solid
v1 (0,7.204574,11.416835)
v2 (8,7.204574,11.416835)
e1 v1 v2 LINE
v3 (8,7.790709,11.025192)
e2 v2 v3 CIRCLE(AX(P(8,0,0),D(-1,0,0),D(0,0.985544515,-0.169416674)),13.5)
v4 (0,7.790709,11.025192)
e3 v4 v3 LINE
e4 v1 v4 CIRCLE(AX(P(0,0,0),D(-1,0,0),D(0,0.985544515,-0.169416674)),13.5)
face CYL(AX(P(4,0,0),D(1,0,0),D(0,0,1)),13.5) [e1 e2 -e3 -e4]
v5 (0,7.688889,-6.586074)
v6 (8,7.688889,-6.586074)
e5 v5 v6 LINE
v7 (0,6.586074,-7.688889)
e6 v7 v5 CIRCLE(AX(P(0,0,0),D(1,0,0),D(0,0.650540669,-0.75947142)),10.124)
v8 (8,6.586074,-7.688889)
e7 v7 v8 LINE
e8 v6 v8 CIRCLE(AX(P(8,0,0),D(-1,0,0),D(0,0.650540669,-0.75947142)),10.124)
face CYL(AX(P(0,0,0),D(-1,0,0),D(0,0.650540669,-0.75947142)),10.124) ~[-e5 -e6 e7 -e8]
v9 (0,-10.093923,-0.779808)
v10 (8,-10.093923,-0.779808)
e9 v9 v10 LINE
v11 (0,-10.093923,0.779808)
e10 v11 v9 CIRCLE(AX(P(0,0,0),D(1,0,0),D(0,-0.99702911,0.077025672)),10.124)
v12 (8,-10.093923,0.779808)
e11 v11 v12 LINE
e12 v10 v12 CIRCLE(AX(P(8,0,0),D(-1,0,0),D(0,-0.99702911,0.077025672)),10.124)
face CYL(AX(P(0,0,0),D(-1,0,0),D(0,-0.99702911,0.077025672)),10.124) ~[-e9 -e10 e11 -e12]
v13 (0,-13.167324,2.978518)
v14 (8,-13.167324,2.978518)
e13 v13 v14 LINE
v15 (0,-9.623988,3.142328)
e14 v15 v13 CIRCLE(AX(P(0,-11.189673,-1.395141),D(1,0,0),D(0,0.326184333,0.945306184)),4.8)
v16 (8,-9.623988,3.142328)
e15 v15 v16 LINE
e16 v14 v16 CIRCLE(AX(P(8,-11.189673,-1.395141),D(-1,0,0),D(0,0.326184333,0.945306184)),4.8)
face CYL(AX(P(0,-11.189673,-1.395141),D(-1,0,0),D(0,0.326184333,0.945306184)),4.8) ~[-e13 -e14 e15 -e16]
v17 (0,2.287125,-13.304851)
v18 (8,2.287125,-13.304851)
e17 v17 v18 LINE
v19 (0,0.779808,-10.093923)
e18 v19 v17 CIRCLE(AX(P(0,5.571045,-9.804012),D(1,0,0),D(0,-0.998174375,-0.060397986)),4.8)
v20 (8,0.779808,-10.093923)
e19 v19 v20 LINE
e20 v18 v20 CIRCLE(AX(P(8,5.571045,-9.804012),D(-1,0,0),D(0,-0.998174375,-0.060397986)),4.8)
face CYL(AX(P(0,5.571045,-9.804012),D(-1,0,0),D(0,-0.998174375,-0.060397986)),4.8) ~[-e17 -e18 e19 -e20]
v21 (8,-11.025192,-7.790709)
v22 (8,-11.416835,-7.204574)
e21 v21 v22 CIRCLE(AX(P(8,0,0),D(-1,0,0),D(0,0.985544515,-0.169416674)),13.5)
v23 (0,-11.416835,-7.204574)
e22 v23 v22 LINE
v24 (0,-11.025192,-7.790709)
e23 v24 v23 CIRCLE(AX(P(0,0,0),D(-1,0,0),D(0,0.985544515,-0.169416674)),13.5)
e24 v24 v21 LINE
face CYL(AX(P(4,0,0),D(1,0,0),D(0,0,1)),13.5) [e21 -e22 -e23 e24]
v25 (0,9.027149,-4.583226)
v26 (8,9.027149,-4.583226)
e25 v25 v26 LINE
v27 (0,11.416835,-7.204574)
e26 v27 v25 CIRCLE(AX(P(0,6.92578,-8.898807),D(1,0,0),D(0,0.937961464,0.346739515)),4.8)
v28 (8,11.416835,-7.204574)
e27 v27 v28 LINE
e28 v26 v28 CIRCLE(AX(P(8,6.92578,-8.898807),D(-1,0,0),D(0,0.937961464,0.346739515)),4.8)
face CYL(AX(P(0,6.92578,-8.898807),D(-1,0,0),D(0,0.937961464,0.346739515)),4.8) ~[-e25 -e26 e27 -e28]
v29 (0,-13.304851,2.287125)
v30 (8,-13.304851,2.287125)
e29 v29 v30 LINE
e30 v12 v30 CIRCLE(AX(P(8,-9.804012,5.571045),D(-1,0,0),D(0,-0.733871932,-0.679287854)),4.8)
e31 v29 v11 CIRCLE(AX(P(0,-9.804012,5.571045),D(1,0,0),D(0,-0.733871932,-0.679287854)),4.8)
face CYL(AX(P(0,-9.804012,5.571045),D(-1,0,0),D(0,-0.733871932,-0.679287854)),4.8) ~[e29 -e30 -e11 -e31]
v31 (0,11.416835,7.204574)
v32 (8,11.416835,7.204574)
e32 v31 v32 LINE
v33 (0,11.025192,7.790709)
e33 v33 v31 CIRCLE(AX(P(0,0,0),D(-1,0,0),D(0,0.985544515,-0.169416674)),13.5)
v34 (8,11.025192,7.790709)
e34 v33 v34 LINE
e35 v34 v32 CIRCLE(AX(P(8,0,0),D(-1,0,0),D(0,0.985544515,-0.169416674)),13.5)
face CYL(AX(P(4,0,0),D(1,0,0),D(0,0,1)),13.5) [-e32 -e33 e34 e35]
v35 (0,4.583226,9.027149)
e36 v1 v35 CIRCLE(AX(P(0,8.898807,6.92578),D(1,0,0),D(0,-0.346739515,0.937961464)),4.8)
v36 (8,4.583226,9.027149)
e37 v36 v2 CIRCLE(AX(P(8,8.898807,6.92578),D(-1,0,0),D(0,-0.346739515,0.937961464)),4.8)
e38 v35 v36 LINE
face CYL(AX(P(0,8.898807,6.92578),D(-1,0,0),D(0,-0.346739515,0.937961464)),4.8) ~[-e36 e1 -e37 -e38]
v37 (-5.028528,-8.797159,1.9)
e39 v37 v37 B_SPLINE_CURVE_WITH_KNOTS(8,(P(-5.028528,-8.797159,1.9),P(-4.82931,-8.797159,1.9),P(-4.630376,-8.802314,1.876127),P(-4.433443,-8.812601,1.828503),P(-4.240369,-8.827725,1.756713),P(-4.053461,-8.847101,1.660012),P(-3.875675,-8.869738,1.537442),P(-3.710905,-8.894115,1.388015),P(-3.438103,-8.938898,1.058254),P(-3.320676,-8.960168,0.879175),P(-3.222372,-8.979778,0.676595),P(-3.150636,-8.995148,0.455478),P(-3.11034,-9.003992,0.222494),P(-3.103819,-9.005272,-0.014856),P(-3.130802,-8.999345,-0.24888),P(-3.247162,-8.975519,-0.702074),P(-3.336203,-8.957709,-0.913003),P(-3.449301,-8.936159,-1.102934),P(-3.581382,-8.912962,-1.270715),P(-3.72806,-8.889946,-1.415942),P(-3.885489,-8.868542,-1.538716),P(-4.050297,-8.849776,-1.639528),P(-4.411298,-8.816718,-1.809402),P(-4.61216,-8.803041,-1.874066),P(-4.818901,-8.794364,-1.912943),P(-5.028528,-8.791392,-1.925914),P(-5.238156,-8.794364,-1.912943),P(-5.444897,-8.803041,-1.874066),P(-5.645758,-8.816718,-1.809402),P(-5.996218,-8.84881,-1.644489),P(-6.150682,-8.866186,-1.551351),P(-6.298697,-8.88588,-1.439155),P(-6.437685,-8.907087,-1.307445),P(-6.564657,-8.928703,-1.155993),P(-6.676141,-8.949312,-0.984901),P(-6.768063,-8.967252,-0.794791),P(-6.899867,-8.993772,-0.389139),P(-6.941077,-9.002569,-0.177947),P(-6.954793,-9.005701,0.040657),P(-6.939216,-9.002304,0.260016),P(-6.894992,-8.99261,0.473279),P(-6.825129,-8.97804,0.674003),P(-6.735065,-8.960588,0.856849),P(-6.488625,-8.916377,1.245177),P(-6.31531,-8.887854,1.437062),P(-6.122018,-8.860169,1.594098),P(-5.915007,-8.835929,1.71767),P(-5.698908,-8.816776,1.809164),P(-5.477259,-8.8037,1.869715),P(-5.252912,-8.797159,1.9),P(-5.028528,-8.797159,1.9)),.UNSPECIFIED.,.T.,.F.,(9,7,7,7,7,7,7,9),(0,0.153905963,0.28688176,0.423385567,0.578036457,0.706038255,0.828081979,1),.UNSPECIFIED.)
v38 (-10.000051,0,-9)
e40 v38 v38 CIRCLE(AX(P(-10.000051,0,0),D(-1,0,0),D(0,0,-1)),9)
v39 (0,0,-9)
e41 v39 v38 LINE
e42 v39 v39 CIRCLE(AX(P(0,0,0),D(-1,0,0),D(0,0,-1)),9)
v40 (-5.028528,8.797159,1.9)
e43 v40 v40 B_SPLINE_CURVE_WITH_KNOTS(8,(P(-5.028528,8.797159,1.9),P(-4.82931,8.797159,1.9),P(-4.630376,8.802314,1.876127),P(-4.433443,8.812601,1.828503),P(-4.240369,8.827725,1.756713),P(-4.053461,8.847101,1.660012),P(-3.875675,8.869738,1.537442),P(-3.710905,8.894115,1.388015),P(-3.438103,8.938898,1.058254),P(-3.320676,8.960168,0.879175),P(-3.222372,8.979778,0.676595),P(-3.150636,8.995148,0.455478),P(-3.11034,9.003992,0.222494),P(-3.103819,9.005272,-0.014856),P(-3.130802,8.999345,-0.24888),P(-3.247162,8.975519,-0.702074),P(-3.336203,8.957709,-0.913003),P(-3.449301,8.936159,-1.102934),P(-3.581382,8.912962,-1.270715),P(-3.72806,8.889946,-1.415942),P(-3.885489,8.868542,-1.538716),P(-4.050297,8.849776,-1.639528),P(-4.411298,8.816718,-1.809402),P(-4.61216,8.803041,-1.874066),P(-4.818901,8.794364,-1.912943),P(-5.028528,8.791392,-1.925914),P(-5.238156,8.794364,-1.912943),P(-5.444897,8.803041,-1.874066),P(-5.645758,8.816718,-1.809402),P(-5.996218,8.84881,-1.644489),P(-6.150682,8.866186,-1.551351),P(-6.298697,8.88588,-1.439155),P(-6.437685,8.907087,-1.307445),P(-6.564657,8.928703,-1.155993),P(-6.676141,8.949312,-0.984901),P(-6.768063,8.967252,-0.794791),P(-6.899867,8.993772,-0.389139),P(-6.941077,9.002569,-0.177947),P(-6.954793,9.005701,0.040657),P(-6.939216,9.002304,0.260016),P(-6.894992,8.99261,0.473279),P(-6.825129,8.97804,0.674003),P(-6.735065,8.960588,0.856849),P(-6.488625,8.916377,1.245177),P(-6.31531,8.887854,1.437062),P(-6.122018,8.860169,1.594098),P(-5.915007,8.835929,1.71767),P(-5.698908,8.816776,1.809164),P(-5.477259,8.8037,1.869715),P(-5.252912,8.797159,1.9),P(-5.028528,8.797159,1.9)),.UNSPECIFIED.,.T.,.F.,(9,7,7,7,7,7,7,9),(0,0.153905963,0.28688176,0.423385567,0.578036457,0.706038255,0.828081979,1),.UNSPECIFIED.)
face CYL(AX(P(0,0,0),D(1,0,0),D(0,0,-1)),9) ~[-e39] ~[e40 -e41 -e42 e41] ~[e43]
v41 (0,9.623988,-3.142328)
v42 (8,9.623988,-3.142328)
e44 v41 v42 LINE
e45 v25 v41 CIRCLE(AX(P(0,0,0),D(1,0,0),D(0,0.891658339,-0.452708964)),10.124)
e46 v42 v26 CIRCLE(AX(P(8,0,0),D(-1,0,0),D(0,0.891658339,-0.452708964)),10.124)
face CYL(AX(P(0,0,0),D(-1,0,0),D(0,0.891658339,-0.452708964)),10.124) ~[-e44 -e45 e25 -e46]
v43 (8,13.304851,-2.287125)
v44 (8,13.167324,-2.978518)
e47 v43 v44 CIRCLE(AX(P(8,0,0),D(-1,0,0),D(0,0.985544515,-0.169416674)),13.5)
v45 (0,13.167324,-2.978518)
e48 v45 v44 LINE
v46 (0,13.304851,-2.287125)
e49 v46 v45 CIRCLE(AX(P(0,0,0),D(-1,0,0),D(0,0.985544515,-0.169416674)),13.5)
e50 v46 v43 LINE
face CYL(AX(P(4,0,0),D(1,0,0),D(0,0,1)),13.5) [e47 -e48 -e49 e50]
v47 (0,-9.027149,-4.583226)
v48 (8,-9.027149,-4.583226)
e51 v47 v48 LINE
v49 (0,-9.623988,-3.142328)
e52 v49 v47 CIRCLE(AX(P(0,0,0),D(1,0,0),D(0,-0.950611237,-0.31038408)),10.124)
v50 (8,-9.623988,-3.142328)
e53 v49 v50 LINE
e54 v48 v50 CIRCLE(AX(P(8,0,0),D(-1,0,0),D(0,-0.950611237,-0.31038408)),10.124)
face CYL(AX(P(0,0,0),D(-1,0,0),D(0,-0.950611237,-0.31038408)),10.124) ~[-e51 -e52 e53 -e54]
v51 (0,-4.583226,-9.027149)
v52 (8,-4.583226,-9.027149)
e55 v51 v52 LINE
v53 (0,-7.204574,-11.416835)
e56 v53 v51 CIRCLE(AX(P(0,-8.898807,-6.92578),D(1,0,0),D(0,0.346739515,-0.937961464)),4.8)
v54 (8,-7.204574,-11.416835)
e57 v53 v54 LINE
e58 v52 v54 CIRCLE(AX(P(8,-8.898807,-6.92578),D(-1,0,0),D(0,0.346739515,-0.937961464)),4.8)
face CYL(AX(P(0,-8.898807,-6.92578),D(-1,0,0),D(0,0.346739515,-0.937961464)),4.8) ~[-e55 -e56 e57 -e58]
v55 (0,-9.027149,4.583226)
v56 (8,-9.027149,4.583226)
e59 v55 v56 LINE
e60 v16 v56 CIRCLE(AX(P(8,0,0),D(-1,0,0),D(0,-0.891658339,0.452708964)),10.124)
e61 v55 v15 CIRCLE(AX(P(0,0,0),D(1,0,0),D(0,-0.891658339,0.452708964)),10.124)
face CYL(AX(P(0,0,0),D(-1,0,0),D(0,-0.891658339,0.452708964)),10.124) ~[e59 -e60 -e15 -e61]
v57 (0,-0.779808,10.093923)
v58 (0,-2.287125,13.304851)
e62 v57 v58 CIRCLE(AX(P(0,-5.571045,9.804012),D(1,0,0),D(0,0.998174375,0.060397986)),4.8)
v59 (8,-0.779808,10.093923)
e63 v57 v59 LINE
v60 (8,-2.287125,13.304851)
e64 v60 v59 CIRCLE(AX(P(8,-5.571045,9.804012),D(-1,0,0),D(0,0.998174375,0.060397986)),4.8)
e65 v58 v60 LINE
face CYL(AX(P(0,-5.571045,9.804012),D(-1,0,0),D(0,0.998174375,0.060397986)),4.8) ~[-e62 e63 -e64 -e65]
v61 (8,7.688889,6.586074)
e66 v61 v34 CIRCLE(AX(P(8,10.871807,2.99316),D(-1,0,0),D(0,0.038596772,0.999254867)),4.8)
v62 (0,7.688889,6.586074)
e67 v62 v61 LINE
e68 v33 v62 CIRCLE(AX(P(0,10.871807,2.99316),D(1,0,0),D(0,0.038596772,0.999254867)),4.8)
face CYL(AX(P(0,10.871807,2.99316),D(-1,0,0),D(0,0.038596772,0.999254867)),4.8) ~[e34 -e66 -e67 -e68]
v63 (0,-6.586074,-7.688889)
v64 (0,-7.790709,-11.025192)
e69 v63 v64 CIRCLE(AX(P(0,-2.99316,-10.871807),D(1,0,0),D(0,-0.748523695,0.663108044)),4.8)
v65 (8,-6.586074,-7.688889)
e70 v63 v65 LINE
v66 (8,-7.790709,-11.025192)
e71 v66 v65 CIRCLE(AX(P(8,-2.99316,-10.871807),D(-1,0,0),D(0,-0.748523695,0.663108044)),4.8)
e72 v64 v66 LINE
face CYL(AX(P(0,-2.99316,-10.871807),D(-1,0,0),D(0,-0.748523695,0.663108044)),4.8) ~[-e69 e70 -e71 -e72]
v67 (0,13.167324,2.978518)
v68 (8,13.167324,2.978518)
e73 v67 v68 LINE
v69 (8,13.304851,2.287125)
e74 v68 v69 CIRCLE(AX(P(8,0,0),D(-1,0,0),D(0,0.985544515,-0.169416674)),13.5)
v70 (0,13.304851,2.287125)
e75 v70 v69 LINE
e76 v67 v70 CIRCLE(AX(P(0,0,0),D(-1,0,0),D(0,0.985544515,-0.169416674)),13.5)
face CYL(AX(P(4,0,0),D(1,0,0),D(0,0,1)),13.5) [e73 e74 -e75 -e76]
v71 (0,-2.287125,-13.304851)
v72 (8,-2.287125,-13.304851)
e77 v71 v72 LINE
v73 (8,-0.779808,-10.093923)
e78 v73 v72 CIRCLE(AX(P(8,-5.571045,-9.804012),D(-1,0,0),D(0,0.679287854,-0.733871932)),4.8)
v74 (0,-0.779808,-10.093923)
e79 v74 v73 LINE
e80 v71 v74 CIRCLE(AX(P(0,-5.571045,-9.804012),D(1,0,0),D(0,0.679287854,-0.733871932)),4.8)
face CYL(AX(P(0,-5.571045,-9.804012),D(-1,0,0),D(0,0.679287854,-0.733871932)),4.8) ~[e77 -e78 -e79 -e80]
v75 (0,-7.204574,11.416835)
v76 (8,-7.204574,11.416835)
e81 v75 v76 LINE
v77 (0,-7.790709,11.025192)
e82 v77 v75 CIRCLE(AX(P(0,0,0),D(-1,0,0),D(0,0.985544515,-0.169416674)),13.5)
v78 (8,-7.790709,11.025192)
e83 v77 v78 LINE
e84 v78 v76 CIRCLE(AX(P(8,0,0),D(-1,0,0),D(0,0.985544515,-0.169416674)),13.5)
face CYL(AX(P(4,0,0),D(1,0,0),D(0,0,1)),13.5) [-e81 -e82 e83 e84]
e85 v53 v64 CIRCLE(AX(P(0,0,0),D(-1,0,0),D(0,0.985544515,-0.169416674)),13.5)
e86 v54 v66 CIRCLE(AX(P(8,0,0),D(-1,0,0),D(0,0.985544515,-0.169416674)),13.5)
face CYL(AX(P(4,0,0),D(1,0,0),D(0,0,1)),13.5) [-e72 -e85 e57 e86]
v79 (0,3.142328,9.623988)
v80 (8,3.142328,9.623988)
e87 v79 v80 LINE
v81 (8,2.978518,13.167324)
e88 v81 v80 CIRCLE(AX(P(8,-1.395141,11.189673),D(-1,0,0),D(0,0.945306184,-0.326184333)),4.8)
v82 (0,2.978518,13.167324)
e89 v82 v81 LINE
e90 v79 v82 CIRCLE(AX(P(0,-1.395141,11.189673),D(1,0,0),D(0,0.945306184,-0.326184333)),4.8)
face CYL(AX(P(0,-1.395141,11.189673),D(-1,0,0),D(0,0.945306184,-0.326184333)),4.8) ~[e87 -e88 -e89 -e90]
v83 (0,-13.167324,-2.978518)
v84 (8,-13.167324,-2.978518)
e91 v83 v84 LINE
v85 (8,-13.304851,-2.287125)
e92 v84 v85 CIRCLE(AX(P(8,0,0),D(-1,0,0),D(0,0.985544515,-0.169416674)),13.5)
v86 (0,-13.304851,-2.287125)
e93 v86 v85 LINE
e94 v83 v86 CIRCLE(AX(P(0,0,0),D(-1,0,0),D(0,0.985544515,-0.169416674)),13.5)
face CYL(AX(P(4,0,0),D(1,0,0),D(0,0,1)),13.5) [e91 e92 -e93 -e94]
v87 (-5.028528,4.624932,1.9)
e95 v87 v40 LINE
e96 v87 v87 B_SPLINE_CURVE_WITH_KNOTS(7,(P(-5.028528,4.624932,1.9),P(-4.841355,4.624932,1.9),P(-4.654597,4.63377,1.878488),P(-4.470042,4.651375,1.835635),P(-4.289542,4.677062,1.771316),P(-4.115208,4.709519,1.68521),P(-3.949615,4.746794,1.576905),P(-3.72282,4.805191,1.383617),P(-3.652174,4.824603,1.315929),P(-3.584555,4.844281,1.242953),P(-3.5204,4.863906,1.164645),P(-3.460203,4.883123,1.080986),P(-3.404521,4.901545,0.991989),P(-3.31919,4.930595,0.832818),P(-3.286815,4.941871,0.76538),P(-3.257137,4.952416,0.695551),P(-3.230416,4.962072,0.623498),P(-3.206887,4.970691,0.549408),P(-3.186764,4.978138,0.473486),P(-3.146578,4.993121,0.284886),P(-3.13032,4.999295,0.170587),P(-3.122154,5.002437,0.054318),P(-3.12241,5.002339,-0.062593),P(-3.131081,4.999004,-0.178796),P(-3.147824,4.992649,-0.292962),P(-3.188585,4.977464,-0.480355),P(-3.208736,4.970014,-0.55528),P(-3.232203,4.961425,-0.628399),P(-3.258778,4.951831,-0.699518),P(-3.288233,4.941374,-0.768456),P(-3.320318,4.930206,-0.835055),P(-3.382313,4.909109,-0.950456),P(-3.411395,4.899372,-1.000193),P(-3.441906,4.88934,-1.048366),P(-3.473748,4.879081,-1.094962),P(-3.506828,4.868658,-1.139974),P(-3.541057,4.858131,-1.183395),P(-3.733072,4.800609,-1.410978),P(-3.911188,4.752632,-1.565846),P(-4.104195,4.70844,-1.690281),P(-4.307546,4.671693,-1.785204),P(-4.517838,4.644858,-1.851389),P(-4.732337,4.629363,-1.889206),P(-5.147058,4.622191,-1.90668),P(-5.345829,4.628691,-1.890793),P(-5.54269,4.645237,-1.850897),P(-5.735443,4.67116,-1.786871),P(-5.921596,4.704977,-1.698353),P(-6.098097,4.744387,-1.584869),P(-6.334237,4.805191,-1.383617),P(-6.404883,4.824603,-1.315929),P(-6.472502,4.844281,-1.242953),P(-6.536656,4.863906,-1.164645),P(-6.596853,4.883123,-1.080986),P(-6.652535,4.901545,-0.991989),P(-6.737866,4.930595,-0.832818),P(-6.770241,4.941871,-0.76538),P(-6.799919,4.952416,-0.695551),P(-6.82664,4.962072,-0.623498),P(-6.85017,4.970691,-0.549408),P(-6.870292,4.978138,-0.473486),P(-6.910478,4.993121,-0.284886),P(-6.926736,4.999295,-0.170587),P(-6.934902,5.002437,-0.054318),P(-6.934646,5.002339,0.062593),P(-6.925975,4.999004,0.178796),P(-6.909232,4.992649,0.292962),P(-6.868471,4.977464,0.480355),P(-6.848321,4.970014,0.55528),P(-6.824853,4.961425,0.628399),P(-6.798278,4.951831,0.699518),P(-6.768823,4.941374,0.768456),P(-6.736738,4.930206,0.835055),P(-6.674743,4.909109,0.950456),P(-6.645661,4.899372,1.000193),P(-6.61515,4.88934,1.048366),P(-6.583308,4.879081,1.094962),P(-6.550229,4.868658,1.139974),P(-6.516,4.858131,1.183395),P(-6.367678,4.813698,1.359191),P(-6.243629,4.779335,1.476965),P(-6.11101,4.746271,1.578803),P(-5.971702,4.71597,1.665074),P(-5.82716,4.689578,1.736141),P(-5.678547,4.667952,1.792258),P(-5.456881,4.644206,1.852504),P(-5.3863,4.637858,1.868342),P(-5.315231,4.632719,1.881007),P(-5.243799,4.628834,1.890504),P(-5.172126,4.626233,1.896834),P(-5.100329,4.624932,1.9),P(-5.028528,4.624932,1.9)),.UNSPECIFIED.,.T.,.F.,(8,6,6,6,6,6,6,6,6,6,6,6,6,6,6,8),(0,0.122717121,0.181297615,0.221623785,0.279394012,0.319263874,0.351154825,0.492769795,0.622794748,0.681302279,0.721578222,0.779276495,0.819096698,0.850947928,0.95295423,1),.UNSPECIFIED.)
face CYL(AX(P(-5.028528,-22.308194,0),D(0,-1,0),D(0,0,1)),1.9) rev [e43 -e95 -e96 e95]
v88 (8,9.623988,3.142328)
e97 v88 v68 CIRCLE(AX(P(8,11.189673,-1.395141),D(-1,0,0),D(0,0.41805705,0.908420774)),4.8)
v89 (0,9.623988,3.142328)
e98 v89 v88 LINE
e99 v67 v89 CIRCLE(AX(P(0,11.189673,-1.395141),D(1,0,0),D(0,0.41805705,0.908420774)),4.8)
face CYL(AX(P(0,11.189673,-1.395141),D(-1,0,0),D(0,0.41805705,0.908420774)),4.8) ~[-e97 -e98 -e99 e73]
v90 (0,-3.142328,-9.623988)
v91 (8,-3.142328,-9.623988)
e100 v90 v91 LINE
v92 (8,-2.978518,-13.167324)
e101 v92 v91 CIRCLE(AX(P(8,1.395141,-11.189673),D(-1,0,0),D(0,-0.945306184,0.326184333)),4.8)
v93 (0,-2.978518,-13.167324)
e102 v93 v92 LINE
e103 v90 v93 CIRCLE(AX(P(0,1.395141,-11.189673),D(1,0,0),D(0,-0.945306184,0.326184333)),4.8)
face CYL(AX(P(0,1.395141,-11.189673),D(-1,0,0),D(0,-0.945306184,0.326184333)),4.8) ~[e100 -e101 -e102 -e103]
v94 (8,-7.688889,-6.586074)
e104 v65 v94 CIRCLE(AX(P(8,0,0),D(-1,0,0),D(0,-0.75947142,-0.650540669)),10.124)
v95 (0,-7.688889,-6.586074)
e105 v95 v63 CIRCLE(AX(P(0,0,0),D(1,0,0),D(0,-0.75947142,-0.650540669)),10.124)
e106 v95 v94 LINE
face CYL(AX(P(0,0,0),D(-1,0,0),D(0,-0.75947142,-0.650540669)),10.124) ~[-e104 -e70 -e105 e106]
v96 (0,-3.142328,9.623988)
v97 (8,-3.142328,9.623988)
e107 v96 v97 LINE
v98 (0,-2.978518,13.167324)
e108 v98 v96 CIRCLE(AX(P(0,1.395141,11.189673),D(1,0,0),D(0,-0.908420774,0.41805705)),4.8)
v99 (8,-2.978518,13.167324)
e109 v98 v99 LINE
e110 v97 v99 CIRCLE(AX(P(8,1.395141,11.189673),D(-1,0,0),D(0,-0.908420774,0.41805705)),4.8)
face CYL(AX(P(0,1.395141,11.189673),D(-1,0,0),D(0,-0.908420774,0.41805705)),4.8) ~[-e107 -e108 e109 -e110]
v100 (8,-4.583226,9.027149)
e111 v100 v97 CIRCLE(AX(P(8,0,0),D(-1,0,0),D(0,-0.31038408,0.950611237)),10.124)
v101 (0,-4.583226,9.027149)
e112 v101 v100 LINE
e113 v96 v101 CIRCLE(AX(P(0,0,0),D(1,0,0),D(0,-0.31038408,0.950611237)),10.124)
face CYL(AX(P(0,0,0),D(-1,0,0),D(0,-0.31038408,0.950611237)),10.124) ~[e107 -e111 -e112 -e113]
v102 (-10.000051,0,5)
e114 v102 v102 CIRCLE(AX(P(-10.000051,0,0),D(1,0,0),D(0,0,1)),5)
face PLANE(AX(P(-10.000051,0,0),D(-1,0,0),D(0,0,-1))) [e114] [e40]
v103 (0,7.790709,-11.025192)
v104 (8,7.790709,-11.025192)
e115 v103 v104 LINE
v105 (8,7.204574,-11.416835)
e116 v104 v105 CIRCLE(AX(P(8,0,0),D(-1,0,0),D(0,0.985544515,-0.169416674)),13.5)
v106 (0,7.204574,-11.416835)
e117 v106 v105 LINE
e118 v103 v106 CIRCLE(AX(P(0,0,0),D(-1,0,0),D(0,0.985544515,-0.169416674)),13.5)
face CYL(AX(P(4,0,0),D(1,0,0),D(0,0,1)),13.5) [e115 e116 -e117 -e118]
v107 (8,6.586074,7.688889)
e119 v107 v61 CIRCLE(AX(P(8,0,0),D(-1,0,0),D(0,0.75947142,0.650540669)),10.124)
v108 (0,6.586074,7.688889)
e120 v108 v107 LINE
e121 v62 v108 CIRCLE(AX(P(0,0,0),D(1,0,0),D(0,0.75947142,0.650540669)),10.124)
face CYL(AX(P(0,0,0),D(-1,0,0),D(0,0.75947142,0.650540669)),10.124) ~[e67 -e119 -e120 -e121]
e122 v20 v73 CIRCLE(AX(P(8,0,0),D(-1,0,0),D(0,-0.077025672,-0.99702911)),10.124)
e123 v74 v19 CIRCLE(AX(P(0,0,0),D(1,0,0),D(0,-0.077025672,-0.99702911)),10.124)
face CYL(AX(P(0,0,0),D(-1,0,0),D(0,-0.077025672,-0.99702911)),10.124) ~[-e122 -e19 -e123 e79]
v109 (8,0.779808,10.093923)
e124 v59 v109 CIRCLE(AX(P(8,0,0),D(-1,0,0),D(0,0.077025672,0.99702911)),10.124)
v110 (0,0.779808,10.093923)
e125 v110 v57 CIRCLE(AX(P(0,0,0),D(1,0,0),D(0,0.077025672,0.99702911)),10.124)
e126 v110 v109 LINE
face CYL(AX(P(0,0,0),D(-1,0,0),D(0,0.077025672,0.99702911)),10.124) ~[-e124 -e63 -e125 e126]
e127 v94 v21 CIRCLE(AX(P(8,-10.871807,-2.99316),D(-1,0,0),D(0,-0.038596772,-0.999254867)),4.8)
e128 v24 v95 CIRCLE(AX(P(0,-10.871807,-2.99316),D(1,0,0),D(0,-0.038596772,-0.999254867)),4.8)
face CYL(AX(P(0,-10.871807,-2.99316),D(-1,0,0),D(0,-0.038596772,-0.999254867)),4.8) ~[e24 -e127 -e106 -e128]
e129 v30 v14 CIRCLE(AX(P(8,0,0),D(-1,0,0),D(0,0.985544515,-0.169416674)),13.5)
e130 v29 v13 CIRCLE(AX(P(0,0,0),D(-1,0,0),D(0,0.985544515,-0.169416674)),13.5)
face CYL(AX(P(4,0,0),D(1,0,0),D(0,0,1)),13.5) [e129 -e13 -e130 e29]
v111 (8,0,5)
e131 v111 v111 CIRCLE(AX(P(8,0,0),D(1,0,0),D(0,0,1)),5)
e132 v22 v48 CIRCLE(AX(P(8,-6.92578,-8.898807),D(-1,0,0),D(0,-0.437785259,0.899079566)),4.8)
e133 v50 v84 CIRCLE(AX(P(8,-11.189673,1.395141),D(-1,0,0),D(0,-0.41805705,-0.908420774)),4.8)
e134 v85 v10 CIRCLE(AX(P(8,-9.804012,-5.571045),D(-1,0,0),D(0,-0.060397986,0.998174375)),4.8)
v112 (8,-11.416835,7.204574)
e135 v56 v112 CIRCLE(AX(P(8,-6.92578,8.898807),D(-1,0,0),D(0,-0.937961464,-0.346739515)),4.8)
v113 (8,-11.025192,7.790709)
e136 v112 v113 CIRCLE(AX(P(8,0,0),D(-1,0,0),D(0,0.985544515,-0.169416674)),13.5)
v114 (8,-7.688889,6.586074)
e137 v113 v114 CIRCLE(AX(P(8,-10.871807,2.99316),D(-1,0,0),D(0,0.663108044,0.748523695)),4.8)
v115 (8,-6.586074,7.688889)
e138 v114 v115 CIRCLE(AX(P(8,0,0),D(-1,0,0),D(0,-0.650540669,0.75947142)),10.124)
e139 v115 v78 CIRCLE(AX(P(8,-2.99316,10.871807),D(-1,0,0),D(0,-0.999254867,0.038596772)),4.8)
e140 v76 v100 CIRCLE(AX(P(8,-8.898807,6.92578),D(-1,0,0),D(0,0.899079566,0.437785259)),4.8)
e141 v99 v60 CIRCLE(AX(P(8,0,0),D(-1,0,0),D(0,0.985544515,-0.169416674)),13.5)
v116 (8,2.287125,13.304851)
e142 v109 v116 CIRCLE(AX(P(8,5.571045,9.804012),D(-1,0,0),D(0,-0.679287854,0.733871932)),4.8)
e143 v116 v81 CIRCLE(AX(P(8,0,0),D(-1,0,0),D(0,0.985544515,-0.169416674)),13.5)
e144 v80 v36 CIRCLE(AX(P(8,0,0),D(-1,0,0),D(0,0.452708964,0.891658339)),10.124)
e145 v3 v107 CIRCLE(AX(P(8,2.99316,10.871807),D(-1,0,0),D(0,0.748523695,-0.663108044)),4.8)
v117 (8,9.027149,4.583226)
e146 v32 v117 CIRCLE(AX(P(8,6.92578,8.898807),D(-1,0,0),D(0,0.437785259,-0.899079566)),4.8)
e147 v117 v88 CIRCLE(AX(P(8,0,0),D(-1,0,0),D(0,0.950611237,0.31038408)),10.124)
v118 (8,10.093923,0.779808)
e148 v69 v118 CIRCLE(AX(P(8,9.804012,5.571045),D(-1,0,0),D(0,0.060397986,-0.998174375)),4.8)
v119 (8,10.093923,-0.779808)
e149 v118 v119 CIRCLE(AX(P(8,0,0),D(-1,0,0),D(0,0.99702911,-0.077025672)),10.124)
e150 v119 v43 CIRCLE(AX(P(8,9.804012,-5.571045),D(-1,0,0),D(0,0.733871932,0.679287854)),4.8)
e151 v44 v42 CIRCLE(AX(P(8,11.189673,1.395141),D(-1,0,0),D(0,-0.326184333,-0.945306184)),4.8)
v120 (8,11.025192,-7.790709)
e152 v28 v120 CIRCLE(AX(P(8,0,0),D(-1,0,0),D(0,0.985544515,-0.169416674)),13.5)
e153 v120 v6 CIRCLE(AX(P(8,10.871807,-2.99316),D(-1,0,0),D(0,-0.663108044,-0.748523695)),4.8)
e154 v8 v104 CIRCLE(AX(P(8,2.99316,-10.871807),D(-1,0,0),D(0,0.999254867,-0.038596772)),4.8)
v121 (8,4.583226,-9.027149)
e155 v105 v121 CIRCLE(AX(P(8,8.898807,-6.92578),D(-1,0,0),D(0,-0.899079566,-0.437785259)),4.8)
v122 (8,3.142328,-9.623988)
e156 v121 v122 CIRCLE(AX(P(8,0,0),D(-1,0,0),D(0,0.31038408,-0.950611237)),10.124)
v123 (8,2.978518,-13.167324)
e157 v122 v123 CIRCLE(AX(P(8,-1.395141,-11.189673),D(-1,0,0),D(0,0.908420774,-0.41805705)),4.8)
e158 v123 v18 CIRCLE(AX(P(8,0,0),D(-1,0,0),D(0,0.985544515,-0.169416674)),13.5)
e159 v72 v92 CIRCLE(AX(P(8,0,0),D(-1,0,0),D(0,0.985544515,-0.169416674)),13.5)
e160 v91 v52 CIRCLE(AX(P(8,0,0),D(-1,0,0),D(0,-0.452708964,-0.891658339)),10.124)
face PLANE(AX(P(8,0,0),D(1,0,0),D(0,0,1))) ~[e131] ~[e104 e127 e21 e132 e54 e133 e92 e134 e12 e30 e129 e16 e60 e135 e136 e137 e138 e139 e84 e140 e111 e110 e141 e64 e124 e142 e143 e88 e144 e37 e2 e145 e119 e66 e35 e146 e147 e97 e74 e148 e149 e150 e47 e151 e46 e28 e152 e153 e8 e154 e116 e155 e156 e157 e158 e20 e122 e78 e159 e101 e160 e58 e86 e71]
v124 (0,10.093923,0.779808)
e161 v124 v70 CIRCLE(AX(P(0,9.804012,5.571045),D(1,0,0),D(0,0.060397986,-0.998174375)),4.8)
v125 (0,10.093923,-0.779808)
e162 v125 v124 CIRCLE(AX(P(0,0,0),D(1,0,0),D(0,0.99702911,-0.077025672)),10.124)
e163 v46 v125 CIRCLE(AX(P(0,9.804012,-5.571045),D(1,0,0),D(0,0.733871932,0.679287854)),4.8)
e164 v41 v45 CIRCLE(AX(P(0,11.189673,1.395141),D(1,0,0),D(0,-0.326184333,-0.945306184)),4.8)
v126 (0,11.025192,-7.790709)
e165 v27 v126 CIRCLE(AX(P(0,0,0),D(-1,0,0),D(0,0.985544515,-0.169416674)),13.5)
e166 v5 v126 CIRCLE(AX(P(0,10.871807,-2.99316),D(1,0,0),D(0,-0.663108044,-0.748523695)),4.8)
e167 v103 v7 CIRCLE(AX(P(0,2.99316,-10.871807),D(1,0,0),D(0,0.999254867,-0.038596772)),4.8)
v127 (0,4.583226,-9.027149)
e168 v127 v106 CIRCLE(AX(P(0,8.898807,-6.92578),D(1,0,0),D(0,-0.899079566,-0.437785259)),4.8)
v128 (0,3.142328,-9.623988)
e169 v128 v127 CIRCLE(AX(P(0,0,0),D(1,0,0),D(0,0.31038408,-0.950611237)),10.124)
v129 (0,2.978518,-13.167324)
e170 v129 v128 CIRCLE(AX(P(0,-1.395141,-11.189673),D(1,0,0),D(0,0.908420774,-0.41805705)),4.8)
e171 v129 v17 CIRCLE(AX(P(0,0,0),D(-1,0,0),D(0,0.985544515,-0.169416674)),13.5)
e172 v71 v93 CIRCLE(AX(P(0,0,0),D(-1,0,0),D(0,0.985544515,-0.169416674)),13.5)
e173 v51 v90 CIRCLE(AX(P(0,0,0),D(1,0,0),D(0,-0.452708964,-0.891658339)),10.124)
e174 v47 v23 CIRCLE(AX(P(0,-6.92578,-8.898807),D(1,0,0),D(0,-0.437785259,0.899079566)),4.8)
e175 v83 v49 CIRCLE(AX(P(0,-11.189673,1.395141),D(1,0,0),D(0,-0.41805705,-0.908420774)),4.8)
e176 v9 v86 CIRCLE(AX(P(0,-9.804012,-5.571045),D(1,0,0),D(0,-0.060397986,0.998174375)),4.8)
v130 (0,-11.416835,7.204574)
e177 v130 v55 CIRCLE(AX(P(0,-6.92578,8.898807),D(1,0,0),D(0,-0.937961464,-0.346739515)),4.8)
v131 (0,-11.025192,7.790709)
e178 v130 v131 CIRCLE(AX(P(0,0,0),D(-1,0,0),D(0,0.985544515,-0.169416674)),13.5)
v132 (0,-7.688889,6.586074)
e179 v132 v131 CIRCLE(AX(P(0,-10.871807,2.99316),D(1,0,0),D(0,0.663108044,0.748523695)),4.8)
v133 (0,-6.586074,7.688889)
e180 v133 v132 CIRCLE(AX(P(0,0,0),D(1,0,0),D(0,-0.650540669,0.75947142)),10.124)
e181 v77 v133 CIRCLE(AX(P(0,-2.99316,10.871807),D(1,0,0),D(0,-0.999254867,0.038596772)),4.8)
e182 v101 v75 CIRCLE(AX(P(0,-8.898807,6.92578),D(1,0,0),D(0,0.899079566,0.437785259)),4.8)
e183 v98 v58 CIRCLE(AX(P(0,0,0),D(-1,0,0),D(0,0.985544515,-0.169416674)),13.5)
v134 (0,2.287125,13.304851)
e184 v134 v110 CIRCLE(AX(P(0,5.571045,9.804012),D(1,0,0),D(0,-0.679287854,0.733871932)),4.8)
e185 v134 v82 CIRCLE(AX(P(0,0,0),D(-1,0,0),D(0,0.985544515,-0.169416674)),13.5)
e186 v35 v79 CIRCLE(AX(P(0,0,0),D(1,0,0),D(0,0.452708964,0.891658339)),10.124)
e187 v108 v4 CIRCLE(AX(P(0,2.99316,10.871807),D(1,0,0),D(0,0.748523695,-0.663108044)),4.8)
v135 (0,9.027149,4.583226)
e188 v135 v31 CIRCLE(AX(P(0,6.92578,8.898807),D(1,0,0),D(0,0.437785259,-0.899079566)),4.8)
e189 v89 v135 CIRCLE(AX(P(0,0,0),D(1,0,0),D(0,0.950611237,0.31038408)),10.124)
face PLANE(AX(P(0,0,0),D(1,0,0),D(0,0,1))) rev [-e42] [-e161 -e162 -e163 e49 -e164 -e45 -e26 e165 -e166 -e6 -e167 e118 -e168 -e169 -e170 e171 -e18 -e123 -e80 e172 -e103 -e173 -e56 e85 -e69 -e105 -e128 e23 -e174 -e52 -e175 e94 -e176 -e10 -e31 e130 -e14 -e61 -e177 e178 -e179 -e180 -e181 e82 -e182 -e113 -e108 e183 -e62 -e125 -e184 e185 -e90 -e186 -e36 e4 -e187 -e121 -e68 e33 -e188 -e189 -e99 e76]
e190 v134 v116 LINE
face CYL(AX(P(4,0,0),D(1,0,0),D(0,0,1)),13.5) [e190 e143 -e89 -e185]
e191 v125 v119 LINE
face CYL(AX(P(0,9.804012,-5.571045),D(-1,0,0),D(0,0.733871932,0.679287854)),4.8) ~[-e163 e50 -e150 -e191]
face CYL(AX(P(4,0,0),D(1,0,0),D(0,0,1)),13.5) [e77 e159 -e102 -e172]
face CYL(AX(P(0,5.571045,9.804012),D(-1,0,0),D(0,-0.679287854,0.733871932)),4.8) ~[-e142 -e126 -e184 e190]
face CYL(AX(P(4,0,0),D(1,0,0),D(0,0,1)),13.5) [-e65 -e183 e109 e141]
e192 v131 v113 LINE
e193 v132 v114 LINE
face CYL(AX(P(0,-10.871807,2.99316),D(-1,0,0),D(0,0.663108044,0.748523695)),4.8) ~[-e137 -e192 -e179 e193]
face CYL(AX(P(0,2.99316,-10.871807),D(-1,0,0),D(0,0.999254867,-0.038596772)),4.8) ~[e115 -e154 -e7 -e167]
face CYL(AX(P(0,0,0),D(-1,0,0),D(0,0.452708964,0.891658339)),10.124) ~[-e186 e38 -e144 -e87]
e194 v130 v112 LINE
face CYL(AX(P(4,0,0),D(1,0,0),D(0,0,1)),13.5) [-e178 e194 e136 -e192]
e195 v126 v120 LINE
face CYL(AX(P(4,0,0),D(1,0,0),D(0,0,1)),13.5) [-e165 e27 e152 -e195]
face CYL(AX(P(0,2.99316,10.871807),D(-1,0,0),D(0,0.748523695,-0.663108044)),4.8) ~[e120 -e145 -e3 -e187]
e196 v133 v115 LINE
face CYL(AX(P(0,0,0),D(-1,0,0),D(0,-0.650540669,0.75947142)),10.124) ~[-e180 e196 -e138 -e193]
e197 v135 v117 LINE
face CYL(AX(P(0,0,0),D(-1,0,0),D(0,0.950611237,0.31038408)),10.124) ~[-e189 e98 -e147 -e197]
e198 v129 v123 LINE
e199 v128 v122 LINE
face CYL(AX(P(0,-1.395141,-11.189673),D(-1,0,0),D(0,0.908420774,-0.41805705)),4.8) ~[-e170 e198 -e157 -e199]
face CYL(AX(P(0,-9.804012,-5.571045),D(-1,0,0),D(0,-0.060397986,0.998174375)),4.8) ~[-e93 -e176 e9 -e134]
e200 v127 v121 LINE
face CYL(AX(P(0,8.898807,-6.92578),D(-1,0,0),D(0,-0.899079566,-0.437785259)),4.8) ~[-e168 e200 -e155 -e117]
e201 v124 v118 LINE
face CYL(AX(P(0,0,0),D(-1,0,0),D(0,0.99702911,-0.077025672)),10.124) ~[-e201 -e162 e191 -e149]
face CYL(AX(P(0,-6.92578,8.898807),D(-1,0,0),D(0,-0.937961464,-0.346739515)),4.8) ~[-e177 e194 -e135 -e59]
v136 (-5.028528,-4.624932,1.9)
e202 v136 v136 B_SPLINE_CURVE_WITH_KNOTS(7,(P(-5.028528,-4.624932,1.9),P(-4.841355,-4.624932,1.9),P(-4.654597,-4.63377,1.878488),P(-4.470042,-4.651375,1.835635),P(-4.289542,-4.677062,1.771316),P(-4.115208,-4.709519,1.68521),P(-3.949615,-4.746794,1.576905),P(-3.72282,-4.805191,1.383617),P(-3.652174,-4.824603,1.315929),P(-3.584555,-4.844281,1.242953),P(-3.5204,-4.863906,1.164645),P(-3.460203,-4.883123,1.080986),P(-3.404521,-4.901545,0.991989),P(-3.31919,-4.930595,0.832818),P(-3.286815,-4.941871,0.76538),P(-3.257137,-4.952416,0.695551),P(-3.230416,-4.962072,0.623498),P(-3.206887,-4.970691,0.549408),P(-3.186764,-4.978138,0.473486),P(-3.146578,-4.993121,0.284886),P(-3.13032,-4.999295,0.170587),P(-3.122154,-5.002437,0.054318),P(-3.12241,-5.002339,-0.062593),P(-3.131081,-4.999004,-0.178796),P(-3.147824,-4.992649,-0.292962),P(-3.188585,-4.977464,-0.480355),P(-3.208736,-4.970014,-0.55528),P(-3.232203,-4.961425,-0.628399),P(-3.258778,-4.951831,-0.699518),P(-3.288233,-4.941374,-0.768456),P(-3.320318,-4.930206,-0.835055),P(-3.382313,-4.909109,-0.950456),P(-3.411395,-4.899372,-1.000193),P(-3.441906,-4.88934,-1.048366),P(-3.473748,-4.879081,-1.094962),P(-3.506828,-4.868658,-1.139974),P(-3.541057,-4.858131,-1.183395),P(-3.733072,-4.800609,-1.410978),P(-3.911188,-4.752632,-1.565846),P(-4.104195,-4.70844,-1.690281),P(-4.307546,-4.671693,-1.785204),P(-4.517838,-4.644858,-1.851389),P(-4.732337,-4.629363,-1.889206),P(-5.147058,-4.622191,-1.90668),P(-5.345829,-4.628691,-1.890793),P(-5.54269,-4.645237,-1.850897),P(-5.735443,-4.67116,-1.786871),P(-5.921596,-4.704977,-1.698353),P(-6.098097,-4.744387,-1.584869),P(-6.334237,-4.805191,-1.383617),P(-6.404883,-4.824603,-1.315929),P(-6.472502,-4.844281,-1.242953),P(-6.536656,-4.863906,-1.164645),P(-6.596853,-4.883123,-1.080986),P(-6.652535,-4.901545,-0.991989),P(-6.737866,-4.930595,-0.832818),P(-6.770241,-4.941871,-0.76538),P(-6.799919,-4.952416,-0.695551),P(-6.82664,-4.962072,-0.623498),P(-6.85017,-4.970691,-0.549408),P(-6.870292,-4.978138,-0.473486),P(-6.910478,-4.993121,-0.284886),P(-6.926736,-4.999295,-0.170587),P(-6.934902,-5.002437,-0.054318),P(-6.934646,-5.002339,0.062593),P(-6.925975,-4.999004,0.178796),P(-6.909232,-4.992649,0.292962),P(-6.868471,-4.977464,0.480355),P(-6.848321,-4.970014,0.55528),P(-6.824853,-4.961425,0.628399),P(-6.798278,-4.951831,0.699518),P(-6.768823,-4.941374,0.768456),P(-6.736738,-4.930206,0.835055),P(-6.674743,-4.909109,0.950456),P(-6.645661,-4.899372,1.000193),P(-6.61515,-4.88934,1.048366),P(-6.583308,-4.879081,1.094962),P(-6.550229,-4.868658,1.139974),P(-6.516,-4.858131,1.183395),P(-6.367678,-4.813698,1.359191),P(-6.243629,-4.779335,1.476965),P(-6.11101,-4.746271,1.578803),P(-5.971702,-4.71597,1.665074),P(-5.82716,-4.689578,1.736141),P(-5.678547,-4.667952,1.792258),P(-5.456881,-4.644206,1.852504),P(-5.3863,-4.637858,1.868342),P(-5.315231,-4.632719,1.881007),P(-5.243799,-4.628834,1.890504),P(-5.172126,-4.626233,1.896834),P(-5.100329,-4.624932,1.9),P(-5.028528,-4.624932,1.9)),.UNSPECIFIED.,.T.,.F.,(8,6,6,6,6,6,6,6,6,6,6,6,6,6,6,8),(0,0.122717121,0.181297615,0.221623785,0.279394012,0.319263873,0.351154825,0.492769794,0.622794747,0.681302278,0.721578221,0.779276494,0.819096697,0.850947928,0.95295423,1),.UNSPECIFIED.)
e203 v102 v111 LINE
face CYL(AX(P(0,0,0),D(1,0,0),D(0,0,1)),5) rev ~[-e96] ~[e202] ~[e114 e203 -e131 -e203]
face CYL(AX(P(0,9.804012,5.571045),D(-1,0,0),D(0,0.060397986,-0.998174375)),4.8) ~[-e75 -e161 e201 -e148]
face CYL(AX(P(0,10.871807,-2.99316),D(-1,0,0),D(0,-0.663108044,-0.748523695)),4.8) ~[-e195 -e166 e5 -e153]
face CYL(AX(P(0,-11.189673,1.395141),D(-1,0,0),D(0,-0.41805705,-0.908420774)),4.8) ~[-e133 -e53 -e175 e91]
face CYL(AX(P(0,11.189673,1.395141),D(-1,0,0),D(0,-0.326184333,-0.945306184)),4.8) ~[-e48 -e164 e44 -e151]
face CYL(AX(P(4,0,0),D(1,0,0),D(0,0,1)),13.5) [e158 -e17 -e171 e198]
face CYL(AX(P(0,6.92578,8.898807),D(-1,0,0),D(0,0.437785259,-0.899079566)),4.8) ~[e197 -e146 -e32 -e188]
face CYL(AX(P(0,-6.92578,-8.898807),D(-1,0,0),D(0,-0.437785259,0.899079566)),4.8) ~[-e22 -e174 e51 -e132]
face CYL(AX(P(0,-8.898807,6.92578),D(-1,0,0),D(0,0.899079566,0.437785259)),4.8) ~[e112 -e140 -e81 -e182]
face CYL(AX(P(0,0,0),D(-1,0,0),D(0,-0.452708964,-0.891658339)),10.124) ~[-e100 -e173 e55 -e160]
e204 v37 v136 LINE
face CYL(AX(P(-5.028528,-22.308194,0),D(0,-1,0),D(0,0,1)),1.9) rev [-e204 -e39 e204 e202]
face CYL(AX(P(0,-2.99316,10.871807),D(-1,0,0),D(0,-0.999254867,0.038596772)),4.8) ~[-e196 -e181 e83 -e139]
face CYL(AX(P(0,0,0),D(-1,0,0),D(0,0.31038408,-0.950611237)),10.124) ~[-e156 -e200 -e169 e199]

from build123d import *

# Parameters (mm, degrees)
BASPROSKE_W              = 8
BASPROSKE_H              = 13.5
TOOTHCUT_DEPTH           = 21.700241544
TEETHCUTS_COUNT          = 16
TEETHCUTS_ANGLE          = 337.5
HUBNEAONESKE_R           = 9
HUBNEARONE_DEPTH         = 10.0000508
BORSKE_R                 = 5
BORE_DEPTH               = 18.0000508
CUT_EXTRUDE_1_DEPTH      = 22.308194049
CUT_EXTRUDE_1_DEPTH_BACK = 22.308194049
SKETCH_1_R               = 1.9


with BuildPart() as part:
    # BasProSke → Base-Revolve (revolve)
    with BuildSketch(Plane(origin=(0, 0, 0), x_dir=(1, 0, 0), z_dir=(0, 1, 0)), mode=Mode.PRIVATE) as base_revolve_sk:
        with Locations((4, 6.75)):
            Rectangle(BASPROSKE_W, BASPROSKE_H)
    revolve(base_revolve_sk.sketch.rotate(Axis((-10, 0, 0), (1, 0, 0)), 180), axis=Axis((-10, 0, 0), (1, 0, 0)))

    # TooCutSke → ToothCut (cut, through all)
    with BuildSketch(Plane(origin=(0, 0, 0), x_dir=(0, 0, -1), z_dir=(1, 0, 0))):
        with BuildLine():
            ThreePointArc((0.779807897, 10.093922708), (0, 10.124), (-0.779807897, 10.093922708))
            ThreePointArc((-0.779807897, 10.093922708), (-1.232785697, 11.858156262), (-2.310463203, 13.326597651))
            ThreePointArc((-2.310463203, 13.326597651), (0, 13.5254), (2.310463203, 13.326597651))
            ThreePointArc((2.310463203, 13.326597651), (1.232785697, 11.858156262), (0.779807897, 10.093922708))
        make_face()
    toothcut = extrude(amount=TOOTHCUT_DEPTH, mode=Mode.SUBTRACT)

    # TeethCuts: ToothCut ×16 about axis
    teethcuts_axis = Axis((-10, 0, 0), (1, 0, 0))
    for i in range(1, TEETHCUTS_COUNT):
        add(toothcut.rotate(teethcuts_axis, i * TEETHCUTS_ANGLE / (TEETHCUTS_COUNT - 1)), mode=Mode.SUBTRACT)

    # HubNeaOneSke → HubNearOne (add)
    with BuildSketch(Plane.ZY):
        with Locations(Location((0, 0, 0), (0, 0, 180))):
            Circle(HUBNEAONESKE_R)
    extrude(amount=HUBNEARONE_DEPTH)

    # BorSke → Bore (cut, symmetric)
    with BuildSketch(Plane(origin=(0, 0, 0), x_dir=(0, 0, -1), z_dir=(1, 0, 0))):
        with Locations(Location((0, 0, 0), (0, 0, 180))):
            Circle(BORSKE_R)
    extrude(amount=BORE_DEPTH, both=True, mode=Mode.SUBTRACT)

    # 草图1 → 切除-拉伸1 (cut, two sides: drawn at the far end of the back side and taken through both)
    with BuildSketch(Plane(origin=(0, 0, 0), x_dir=(1, 0, 0), z_dir=(0, 1, 0)).offset(-CUT_EXTRUDE_1_DEPTH_BACK)):
        with Locations(Location((-5.028528168, 0, 0), (0, 0, 270))):
            Circle(SKETCH_1_R)
    extrude(amount=CUT_EXTRUDE_1_DEPTH + CUT_EXTRUDE_1_DEPTH_BACK, mode=Mode.SUBTRACT)


solid = part.part
